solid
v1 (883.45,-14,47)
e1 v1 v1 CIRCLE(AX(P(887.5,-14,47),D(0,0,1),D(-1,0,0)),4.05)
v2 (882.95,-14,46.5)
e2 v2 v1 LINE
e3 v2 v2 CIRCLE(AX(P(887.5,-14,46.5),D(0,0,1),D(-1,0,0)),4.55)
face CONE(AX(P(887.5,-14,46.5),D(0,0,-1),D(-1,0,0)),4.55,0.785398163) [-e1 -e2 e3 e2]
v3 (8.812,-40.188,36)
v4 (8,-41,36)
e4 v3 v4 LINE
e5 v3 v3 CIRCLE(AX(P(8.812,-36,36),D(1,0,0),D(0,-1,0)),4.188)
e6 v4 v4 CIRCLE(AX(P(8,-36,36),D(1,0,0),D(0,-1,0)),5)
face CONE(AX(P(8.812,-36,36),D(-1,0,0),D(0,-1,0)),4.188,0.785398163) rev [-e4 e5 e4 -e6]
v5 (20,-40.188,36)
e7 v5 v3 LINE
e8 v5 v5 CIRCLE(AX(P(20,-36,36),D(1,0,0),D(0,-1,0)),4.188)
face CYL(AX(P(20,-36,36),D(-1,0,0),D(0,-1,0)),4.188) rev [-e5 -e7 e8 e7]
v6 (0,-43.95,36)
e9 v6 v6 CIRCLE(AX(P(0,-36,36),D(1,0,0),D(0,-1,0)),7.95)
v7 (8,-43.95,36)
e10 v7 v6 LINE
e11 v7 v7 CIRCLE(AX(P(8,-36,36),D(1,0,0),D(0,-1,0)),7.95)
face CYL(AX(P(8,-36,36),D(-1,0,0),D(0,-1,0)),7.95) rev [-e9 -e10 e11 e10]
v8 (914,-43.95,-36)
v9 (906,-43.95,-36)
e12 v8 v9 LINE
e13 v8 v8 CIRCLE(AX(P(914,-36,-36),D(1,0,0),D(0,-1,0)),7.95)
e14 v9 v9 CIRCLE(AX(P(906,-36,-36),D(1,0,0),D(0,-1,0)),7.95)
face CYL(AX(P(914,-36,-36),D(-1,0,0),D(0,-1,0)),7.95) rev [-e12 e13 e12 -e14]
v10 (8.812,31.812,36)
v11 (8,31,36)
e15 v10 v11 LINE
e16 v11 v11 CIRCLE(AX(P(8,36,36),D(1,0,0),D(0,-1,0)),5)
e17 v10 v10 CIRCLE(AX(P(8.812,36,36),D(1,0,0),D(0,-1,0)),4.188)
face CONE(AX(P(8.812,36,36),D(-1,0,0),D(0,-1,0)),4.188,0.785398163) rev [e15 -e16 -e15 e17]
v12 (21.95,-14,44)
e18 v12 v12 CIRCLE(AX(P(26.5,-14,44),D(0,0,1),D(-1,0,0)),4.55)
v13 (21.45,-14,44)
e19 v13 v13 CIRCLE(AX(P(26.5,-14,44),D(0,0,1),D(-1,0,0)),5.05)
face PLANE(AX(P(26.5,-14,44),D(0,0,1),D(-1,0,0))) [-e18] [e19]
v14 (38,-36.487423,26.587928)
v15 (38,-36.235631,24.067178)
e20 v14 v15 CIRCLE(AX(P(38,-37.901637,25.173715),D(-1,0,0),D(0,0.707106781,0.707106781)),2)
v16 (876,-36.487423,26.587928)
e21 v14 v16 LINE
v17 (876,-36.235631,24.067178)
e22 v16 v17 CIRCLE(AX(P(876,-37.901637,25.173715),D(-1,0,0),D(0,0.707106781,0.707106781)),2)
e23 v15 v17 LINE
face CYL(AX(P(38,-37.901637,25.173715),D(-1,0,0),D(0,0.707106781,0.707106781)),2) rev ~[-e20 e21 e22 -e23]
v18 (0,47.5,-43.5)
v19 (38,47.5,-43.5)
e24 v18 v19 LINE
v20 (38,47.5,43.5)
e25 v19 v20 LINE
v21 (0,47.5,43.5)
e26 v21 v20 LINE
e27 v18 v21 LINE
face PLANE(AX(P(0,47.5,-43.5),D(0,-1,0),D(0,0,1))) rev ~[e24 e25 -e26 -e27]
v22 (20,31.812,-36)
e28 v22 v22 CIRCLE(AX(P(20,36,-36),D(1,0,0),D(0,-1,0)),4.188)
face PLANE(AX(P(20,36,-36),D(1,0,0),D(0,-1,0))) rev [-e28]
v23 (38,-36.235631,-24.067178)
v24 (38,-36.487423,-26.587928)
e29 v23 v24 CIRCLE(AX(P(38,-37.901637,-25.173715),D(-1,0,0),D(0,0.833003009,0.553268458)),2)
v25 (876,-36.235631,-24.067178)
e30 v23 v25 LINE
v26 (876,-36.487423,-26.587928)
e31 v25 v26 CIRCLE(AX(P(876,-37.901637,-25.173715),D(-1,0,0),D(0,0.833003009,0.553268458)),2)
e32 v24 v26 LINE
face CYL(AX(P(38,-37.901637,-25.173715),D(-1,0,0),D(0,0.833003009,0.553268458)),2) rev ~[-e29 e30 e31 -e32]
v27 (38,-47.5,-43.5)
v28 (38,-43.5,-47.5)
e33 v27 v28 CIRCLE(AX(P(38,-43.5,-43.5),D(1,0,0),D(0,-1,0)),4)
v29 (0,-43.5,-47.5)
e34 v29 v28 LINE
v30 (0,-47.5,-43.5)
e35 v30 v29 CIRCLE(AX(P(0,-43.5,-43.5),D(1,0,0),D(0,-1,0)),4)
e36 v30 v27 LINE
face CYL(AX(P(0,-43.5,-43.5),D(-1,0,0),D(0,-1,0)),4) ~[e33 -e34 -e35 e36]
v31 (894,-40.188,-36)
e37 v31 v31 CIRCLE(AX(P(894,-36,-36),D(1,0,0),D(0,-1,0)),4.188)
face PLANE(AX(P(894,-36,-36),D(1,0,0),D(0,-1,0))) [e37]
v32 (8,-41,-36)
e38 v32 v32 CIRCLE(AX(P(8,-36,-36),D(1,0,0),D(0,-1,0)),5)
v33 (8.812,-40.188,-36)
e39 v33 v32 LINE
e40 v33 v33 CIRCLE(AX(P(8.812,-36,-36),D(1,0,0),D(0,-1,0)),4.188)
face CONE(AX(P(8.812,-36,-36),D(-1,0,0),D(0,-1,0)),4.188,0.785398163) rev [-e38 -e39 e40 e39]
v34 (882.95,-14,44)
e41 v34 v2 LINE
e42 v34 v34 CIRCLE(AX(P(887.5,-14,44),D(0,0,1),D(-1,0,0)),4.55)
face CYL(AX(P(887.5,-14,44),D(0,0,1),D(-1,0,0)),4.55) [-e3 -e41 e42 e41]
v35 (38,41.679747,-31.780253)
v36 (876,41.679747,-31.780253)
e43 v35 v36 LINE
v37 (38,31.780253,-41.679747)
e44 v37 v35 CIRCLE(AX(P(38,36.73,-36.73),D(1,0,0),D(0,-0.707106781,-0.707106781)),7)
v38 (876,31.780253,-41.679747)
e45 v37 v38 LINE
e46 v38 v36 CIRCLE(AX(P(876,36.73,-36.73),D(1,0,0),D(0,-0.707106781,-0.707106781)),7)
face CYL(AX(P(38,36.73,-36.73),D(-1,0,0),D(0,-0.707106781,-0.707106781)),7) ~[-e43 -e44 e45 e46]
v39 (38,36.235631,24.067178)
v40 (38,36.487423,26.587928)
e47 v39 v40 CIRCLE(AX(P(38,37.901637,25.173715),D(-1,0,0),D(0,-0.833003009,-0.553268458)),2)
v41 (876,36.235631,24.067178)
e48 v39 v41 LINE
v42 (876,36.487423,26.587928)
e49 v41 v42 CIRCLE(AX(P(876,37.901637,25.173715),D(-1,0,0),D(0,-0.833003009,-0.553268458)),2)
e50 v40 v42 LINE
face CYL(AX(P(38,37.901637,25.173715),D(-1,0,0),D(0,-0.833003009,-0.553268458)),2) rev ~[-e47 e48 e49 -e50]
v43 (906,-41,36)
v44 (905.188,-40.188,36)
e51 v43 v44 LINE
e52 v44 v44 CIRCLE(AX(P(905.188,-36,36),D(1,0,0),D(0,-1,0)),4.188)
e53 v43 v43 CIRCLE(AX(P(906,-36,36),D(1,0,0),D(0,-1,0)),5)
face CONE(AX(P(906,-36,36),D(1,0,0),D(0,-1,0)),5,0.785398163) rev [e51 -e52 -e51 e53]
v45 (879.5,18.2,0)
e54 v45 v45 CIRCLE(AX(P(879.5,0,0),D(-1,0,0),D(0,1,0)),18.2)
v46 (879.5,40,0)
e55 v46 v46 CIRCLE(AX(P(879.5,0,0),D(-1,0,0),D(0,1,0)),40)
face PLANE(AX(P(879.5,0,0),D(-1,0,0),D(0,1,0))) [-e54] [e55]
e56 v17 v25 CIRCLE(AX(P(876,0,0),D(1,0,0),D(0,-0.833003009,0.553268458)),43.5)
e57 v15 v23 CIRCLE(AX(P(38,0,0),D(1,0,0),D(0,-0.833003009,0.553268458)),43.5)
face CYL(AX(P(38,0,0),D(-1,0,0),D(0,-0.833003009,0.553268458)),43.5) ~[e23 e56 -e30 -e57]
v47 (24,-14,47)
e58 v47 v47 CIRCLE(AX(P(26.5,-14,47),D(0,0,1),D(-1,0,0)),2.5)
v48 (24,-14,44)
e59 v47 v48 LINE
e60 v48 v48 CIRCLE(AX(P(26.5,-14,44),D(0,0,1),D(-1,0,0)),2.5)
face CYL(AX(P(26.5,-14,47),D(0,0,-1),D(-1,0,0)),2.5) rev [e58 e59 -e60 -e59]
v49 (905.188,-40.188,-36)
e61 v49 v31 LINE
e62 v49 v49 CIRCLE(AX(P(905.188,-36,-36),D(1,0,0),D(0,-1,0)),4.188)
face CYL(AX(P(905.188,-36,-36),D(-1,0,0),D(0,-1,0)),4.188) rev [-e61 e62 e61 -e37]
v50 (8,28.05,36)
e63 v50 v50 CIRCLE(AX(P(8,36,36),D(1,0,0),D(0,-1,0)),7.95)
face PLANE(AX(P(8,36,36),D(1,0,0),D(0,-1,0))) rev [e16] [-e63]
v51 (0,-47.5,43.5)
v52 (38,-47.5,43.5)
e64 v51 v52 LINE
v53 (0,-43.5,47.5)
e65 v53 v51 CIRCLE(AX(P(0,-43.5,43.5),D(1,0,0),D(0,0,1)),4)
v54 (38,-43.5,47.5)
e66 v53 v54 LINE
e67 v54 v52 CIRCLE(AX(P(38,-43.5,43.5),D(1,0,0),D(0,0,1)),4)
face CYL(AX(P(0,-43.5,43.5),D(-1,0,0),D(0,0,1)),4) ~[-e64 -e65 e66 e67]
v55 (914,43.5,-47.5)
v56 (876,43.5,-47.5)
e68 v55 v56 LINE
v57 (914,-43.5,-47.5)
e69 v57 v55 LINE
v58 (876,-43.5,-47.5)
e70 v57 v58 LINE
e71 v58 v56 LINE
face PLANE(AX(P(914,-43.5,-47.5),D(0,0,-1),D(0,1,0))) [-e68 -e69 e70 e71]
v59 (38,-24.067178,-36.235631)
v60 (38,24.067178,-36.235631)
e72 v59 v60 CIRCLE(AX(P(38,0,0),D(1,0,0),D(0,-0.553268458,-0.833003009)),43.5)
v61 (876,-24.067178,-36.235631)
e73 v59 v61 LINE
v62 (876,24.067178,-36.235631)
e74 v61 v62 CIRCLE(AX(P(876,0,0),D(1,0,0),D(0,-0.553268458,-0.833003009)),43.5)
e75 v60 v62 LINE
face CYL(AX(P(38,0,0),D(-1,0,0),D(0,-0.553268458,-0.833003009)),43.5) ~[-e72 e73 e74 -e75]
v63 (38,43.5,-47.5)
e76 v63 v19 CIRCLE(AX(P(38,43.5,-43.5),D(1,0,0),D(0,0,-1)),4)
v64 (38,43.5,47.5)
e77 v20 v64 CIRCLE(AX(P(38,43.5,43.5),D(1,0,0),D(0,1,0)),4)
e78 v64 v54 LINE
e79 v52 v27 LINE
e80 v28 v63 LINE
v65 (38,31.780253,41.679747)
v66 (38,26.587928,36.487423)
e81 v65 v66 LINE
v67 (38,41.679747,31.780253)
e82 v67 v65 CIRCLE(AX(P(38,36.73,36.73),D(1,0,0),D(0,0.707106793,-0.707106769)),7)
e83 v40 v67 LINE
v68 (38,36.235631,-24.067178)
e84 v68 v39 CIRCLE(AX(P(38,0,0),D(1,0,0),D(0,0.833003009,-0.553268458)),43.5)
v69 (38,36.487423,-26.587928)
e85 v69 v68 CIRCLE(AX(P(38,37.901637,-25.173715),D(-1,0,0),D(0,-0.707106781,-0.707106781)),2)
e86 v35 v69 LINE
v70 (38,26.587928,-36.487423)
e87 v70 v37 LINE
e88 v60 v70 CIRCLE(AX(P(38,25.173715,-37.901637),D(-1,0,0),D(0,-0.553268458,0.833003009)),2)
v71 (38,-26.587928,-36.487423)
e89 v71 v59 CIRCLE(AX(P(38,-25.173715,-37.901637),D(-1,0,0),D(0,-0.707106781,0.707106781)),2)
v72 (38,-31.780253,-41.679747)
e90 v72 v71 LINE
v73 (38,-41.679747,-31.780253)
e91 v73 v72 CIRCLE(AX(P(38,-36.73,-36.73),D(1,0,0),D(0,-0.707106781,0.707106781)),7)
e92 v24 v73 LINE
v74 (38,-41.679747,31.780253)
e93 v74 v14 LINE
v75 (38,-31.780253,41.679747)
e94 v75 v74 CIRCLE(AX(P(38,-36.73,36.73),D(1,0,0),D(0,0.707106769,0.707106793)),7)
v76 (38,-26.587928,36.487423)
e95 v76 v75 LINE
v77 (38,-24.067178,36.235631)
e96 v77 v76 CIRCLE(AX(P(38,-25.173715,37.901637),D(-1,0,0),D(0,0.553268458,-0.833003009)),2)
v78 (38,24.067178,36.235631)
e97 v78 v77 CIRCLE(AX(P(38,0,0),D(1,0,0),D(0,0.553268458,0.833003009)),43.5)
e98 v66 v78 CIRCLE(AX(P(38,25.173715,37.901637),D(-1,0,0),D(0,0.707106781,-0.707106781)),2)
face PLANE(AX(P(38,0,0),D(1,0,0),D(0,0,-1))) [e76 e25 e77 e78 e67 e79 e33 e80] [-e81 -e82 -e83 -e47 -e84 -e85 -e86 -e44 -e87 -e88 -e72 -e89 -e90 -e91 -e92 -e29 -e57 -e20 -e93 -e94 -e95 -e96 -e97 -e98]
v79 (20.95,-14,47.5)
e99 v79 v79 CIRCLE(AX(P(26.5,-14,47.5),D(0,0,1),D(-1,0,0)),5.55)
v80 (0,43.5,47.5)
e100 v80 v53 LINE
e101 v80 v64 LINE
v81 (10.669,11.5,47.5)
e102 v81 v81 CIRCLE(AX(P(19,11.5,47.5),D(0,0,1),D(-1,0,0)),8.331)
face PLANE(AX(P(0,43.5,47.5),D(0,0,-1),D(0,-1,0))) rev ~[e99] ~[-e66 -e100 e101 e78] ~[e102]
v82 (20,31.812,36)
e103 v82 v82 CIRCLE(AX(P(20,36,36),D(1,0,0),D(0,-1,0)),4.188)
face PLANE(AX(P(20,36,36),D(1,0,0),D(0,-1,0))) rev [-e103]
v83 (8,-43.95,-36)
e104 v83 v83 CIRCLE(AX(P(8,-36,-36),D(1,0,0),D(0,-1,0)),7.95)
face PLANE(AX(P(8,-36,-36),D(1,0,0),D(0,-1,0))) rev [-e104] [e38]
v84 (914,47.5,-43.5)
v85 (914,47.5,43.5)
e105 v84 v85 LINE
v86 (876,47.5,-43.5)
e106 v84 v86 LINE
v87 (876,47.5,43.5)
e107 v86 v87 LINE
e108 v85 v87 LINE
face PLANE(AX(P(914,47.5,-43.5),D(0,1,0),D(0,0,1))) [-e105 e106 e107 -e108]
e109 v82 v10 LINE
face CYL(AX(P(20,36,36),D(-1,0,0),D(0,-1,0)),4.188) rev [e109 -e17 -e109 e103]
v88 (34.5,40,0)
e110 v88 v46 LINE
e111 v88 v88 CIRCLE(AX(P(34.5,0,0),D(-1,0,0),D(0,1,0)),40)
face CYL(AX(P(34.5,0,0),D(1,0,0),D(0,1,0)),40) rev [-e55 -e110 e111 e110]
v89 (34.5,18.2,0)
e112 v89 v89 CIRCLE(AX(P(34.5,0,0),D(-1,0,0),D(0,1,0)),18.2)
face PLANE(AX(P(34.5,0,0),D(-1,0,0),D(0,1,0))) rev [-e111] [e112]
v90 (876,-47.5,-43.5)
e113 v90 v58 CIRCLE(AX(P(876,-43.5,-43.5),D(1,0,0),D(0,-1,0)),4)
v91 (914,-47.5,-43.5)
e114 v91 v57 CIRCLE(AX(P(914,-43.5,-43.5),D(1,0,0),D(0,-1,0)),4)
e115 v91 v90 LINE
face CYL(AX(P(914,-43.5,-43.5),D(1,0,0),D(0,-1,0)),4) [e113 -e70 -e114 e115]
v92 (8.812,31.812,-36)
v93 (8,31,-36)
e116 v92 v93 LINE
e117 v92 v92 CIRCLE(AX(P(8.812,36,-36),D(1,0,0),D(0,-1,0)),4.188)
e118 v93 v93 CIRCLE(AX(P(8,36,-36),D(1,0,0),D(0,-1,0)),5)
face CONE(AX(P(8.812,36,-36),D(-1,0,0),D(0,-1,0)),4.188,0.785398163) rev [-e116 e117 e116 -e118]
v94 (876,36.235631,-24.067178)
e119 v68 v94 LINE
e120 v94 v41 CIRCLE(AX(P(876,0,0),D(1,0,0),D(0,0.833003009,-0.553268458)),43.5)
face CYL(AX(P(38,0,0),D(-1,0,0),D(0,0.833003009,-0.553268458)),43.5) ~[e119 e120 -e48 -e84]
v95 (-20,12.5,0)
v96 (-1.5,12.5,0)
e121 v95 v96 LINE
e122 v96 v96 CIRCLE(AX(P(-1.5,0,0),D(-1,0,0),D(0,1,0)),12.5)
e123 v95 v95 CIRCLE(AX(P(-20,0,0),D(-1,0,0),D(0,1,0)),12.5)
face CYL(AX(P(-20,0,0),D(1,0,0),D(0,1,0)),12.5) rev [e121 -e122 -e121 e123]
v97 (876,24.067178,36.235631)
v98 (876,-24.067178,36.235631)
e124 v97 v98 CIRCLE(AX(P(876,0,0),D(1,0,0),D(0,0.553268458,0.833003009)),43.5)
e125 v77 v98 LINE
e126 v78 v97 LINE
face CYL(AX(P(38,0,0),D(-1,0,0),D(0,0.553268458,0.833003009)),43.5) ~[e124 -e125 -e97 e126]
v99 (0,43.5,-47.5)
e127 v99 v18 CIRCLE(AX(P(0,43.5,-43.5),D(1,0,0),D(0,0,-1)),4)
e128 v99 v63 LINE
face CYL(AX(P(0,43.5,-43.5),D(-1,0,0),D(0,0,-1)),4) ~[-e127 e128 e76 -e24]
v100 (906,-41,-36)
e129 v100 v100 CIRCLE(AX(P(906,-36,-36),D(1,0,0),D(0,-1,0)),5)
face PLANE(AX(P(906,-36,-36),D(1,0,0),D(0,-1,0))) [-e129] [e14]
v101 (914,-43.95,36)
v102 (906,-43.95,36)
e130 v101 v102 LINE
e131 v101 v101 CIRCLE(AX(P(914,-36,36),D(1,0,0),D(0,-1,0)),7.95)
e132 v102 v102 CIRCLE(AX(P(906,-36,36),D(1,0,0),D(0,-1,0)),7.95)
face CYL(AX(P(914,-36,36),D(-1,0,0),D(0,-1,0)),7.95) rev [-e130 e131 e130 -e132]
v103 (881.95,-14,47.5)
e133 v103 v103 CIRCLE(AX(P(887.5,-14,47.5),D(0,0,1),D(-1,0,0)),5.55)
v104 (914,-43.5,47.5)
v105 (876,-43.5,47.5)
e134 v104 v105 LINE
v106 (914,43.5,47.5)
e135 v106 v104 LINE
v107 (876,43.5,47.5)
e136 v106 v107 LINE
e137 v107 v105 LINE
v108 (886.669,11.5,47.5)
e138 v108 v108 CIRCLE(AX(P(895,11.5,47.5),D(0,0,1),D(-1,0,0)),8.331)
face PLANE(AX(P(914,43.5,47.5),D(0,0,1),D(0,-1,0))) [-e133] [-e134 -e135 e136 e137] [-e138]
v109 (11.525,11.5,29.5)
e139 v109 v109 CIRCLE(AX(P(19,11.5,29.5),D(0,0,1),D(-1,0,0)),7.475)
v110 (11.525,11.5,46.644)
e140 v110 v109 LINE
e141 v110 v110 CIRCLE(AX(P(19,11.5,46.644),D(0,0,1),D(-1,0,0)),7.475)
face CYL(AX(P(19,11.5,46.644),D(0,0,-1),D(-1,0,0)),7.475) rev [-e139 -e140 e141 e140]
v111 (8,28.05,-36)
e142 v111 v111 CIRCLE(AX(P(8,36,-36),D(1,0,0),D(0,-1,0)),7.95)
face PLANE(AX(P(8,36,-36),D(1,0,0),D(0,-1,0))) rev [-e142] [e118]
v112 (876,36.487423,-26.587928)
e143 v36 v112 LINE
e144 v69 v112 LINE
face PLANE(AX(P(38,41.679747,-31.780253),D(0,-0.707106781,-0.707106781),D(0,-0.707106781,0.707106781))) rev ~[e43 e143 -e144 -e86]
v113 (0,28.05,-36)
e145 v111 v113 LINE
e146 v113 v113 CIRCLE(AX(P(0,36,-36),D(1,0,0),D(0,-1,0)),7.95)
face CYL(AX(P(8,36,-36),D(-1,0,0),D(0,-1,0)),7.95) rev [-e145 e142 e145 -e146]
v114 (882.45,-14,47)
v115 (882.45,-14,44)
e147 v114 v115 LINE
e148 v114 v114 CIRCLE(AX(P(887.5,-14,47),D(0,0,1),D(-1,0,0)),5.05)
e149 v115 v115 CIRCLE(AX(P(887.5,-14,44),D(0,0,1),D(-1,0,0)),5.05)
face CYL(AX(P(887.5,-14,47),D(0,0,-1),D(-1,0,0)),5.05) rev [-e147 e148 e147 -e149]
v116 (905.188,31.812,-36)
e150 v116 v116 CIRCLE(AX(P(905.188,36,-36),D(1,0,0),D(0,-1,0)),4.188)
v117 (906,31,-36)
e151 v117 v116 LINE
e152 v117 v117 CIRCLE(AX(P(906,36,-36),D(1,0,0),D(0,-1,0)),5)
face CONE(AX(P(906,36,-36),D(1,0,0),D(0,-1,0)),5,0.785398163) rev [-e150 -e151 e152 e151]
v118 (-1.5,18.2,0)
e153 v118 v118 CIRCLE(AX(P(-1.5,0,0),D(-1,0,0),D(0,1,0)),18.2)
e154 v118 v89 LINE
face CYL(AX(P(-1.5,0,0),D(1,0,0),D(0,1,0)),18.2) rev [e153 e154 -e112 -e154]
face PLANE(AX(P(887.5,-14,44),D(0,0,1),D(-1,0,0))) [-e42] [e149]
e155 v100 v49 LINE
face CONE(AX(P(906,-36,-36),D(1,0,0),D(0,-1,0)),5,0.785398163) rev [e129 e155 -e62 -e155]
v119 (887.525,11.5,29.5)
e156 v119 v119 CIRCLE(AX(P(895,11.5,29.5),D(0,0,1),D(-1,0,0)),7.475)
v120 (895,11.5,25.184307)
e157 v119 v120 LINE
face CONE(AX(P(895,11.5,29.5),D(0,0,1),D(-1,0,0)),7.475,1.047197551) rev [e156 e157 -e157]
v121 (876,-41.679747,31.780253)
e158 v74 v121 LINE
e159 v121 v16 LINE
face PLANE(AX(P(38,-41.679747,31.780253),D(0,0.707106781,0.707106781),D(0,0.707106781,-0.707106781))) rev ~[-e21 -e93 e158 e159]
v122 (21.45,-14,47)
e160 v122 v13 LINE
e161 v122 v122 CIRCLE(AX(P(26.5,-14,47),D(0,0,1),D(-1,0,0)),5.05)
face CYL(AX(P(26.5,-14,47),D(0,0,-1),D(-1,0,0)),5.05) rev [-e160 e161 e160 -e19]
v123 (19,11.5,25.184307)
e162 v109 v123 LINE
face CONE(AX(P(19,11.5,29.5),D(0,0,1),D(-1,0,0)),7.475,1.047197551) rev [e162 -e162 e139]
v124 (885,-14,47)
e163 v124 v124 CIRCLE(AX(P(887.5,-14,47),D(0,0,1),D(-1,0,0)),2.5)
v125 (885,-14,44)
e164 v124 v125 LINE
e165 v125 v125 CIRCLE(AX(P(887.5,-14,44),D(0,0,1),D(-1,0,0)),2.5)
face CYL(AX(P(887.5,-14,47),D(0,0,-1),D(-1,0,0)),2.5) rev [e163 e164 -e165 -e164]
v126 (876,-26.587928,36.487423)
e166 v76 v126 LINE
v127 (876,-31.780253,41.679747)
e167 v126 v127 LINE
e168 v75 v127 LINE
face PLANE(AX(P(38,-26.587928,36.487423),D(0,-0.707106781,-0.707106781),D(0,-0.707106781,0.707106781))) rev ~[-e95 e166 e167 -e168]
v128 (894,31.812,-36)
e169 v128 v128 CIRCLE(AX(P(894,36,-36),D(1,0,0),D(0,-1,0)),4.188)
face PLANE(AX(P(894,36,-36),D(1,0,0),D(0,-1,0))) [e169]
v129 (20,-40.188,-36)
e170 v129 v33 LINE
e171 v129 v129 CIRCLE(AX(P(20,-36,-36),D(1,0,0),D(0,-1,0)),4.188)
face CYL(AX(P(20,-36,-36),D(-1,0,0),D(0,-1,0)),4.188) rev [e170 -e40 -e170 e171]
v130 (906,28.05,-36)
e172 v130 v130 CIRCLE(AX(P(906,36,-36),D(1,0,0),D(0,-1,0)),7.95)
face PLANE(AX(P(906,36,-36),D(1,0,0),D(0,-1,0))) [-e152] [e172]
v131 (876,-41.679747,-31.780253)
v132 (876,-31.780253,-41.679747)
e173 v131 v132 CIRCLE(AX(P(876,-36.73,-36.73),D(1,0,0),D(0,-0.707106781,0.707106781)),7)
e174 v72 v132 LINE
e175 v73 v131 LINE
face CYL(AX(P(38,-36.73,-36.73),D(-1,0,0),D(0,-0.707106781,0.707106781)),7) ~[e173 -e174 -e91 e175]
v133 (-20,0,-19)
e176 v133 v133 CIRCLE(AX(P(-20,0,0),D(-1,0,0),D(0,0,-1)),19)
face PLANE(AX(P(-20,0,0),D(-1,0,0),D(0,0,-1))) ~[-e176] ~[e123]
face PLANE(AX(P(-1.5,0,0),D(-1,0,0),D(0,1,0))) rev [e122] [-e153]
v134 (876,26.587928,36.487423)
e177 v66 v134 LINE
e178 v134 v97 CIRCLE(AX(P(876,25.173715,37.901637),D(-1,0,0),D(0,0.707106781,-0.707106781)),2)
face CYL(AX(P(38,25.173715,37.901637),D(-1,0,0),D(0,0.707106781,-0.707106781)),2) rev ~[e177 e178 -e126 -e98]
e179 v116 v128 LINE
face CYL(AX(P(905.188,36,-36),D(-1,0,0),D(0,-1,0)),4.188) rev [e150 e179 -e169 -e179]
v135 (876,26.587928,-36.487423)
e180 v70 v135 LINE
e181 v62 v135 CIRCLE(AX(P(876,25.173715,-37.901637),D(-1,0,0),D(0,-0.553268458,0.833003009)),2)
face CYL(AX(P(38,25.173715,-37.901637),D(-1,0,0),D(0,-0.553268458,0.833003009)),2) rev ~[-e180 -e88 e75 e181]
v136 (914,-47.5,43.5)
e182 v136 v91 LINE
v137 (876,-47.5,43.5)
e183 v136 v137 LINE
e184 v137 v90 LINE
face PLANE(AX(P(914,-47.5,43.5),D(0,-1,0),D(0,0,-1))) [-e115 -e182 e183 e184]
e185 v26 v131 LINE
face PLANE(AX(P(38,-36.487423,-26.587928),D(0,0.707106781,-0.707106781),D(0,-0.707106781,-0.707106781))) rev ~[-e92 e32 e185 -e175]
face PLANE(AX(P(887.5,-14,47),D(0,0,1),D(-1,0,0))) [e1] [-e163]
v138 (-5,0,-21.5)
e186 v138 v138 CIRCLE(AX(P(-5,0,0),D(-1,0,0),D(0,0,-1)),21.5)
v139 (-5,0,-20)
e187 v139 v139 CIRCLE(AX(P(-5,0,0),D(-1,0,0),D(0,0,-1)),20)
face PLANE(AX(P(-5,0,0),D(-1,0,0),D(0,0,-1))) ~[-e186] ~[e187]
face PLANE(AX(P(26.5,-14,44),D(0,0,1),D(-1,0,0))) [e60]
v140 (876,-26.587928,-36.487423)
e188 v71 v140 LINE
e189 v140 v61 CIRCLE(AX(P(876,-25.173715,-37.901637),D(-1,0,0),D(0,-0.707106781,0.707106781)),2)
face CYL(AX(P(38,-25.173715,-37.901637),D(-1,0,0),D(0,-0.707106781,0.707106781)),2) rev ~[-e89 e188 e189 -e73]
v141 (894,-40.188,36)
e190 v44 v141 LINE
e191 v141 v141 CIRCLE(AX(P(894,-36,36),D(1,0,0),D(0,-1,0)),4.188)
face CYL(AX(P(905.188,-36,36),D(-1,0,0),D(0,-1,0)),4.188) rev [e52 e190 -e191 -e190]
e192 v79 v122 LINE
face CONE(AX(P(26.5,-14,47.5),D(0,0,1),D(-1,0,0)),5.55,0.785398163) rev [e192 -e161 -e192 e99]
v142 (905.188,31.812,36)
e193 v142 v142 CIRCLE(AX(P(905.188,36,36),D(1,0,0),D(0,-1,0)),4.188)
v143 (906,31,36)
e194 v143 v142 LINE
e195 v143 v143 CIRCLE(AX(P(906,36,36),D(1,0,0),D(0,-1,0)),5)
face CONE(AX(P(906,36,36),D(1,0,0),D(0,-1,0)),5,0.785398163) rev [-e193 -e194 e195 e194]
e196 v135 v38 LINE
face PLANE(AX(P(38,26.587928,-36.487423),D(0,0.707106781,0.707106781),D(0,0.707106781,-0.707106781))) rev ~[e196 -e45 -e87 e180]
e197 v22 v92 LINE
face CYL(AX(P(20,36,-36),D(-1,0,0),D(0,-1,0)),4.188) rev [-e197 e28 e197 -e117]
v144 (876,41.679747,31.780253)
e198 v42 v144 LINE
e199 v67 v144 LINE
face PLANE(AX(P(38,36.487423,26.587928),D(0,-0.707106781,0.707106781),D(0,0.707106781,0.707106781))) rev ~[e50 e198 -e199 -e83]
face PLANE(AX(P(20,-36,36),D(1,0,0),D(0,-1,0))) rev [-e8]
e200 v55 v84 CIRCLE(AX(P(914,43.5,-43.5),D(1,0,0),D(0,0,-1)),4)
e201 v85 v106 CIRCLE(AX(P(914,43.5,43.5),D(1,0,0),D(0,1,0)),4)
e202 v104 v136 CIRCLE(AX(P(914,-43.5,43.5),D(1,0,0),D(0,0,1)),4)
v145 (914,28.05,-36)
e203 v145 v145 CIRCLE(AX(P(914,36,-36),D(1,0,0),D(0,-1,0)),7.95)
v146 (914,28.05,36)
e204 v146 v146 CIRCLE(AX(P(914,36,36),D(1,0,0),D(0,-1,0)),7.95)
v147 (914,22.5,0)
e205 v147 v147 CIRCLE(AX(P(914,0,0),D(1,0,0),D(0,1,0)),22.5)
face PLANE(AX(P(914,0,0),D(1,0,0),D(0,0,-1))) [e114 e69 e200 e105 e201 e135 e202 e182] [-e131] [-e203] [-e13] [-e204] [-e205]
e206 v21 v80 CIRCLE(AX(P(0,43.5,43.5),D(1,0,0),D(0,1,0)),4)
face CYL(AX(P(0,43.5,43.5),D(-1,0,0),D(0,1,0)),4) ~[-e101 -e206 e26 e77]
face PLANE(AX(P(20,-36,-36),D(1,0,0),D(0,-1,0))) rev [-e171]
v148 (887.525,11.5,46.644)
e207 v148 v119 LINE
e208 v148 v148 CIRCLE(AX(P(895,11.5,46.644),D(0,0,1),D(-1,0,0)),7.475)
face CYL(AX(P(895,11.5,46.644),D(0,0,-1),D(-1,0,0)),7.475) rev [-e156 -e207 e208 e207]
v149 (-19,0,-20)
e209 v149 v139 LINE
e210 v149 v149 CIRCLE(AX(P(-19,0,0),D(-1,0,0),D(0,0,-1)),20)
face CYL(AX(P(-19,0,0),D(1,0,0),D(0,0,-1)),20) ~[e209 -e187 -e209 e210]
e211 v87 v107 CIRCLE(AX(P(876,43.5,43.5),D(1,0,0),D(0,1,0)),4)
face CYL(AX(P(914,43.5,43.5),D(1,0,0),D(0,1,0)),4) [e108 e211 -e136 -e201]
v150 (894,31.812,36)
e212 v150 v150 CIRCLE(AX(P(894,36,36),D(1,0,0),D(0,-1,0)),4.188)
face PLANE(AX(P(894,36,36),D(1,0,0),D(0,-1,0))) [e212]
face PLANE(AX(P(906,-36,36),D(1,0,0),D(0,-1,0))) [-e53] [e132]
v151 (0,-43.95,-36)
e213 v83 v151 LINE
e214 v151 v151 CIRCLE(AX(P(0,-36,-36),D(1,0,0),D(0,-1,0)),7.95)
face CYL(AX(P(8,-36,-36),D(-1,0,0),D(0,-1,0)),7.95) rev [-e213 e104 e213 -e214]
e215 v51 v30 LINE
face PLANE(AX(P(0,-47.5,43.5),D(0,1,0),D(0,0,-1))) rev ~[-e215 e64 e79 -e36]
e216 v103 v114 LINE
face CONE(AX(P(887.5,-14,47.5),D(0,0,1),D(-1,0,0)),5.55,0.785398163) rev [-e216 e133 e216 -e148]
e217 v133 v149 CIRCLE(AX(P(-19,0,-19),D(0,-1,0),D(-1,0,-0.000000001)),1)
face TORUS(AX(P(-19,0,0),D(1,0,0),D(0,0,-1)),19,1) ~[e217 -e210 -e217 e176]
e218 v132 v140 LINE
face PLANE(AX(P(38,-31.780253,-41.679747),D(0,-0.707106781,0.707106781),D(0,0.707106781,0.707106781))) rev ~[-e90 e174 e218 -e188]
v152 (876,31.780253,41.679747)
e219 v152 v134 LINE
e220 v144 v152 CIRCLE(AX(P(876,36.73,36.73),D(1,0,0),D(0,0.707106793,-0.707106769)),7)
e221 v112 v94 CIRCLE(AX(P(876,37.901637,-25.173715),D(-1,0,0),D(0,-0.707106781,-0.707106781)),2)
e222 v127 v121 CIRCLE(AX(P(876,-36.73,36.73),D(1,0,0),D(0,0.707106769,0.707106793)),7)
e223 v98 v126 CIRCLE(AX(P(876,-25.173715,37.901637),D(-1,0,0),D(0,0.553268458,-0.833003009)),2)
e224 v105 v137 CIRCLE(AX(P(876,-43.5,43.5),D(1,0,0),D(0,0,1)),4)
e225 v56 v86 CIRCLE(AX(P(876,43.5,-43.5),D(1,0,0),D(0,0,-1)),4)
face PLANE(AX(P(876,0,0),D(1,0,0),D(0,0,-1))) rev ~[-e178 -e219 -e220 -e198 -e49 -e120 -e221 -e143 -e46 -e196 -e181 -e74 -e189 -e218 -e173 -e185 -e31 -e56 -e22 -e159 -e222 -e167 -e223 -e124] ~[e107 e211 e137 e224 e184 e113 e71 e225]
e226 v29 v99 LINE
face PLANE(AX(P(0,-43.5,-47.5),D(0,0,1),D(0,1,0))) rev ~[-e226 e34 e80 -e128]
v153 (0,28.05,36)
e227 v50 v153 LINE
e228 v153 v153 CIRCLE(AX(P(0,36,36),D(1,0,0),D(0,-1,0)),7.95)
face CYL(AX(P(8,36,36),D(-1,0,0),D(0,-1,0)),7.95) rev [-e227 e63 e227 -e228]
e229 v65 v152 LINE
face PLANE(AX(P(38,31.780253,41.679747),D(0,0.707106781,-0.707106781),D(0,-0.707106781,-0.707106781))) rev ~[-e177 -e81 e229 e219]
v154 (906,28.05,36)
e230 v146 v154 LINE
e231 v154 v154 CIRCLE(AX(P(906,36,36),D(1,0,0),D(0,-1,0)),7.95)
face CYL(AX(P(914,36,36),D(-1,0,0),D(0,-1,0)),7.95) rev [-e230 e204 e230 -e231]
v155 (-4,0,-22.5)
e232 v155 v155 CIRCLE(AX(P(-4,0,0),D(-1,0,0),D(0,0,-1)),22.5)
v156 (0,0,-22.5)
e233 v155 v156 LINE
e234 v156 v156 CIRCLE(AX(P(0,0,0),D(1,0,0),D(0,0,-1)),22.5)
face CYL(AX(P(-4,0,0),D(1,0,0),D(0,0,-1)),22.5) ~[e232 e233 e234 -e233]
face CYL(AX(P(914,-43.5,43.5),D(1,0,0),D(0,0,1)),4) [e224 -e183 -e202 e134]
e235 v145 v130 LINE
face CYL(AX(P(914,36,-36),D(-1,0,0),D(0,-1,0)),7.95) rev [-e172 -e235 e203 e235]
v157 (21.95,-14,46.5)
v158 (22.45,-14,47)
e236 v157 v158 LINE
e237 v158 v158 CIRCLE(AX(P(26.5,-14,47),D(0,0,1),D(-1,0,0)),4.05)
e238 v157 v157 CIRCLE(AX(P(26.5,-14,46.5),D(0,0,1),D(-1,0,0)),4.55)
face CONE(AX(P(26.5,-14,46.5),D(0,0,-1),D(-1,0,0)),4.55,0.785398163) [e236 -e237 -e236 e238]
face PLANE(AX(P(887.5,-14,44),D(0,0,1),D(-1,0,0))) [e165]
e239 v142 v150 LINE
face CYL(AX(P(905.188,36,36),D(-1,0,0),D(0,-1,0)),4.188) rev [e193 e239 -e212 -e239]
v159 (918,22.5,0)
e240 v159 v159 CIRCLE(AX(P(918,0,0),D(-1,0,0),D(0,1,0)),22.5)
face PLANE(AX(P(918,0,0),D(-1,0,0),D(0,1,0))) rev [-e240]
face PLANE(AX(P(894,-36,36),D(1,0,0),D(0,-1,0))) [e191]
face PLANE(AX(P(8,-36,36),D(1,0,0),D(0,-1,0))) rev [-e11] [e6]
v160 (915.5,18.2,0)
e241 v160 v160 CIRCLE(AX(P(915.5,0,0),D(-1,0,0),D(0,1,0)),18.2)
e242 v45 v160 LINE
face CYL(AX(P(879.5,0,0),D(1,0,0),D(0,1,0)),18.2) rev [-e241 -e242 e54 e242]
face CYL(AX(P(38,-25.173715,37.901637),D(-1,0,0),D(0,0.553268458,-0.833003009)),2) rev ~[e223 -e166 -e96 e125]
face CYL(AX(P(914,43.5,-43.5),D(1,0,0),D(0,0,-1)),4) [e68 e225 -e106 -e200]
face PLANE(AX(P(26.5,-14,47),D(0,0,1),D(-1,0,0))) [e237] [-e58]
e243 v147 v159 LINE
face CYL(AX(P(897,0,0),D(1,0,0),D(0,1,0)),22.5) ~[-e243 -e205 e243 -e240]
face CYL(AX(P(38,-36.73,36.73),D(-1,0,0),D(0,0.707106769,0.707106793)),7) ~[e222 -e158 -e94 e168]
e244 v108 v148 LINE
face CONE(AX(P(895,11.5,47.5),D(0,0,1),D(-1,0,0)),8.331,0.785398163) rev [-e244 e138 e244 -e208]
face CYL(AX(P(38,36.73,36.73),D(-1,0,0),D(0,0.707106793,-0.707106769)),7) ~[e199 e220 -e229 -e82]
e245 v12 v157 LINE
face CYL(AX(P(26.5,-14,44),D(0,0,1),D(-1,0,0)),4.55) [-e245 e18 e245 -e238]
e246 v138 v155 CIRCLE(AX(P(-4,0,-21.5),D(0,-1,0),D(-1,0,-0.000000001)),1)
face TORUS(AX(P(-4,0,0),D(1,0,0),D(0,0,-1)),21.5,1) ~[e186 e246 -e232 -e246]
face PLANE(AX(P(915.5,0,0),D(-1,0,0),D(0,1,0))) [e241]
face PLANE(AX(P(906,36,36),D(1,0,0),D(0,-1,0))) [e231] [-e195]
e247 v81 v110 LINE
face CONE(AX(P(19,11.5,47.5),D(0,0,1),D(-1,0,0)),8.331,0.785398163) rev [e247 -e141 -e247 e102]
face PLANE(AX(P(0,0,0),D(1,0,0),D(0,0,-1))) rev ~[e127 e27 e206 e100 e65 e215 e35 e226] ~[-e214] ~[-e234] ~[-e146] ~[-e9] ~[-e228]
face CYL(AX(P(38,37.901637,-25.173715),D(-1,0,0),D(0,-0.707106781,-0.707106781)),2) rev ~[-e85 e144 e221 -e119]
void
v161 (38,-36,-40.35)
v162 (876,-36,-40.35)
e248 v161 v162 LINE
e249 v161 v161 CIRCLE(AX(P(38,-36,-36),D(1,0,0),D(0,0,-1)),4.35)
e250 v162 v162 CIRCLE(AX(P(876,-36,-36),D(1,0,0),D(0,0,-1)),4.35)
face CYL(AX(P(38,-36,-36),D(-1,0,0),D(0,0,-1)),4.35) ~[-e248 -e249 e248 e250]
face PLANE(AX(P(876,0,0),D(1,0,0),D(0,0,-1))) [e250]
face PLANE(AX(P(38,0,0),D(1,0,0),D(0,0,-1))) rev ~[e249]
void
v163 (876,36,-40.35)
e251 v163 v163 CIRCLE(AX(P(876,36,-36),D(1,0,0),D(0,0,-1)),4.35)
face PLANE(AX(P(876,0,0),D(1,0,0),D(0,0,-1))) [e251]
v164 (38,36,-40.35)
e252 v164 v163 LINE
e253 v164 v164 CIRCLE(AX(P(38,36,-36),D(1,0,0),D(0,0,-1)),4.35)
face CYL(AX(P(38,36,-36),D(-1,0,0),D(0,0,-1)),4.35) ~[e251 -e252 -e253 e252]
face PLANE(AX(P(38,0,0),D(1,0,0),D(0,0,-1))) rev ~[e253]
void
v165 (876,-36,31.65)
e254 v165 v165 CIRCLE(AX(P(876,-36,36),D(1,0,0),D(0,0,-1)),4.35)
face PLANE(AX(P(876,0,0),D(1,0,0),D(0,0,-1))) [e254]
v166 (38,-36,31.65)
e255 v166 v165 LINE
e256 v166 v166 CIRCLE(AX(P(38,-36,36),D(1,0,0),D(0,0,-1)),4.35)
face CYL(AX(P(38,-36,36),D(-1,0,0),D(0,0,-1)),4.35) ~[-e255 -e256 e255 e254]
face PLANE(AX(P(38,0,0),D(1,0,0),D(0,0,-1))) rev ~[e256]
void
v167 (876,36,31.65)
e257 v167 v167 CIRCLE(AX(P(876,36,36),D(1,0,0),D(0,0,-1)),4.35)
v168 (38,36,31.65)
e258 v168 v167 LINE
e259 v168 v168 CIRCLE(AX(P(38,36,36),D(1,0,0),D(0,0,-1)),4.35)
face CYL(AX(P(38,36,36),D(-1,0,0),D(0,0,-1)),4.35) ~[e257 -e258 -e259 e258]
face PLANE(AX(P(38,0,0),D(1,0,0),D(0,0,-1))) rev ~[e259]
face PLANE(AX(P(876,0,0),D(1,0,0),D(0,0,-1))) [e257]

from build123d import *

# Parameters (mm, degrees)
EXTRUDE_1_DEPTH             = 38
SKETCH_3_R                  = 4.35
EXTRUDE_2_DEPTH             = 838
EXTRUDE_START               = -38
EXTRUDE_3_DEPTH             = 38
SKETCH_5_W                  = 42
SKETCH_5_H                  = 22.5
PATTERN_LINEAR_1_COUNT      = 2
PATTERN_LINEAR_1_PITCH      = 72
PATTERN_LINEAR_1_COUNT_DIR2 = 2
PATTERN_LINEAR_1_PITCH_DIR2 = 72
PATTERN_LINEAR_2_COUNT      = 2
PATTERN_LINEAR_2_PITCH      = 72
PATTERN_LINEAR_2_COUNT_DIR2 = 2
PATTERN_LINEAR_2_PITCH_DIR2 = 72


with BuildPart() as part:
    # 草图1 → 凸台-拉伸1 (new body)
    with BuildSketch(Plane(origin=(0, 0, 0), x_dir=(0, 0, -1), z_dir=(1, 0, 0))):
        with BuildLine():
            Line((-43.5, -47.5), (43.5, -47.5))
            ThreePointArc((43.5, -47.5), (46.328427125, -46.328427125), (47.5, -43.5))
            Line((47.5, -43.5), (47.5, 43.5))
            ThreePointArc((47.5, 43.5), (46.328427125, 46.328427125), (43.5, 47.5))
            Line((43.5, 47.5), (-43.5, 47.5))
            ThreePointArc((-43.5, 47.5), (-46.328427125, 46.328427125), (-47.5, 43.5))
            Line((-47.5, 43.5), (-47.5, -43.5))
            ThreePointArc((-47.5, -43.5), (-46.328427125, -46.328427125), (-43.5, -47.5))
        make_face()
    extrude(amount=EXTRUDE_1_DEPTH)

    # 草图2 → 旋转1 (revolve)
    with BuildSketch(Plane(origin=(0, 0, 0), x_dir=(1, 0, 0), z_dir=(0, 1, 0))):
        with BuildLine():
            Line((-20, 0), (-20, 19))
            ThreePointArc((-20, 19), (-19.707106781, 19.707106781), (-19, 20))
            Line((-19, 20), (-5, 20))
            Line((-5, 20), (-5, 21.5))
            ThreePointArc((-5, 21.5), (-4.707106781, 22.207106781), (-4, 22.5))
            Line((-4, 22.5), (38, 22.5))
            Line((38, 22.5), (38, 0))
            Line((38, 0), (-20, 0))
        make_face()
    revolve(axis=Axis((38, 0, 0), (-1, 0, 0)))

    # 草图3 → 凸台-拉伸2 (add)
    with BuildSketch(Plane(origin=(38, 0, 0), x_dir=(0, 0, -1), z_dir=(1, 0, 0))):
        with BuildLine():
            Line((-31.780252532, -41.679747468), (-26.587928413, -36.48742335))
            ThreePointArc((-26.587928413, -36.48742335), (-25.372501394, -35.911540455), (-24.067177934, -36.235630894))
            ThreePointArc((-24.067177934, -36.235630894), (0, -43.5), (24.067177934, -36.235630894))
            ThreePointArc((24.067177934, -36.235630894), (25.372501394, -35.911540455), (26.587928413, -36.48742335))
            Line((26.587928413, -36.48742335), (31.780252532, -41.679747468))
            ThreePointArc((31.780252532, -41.679747468), (41.679747468, -41.679747468), (41.679747468, -31.780252532))
            Line((41.679747468, -31.780252532), (36.48742335, -26.587928413))
            ThreePointArc((36.48742335, -26.587928413), (35.911540455, -25.372501394), (36.235630894, -24.067177934))
            ThreePointArc((36.235630894, -24.067177934), (43.5, 0), (36.235630894, 24.067177934))
            ThreePointArc((36.235630894, 24.067177934), (35.911540455, 25.372501394), (36.48742335, 26.587928413))
            Line((36.48742335, 26.587928413), (41.679747468, 31.780252532))
            ThreePointArc((41.679747468, 31.780252532), (41.679747468, 41.679747468), (31.780252532, 41.679747468))
            Line((31.780252532, 41.679747468), (26.587928413, 36.48742335))
            ThreePointArc((26.587928413, 36.48742335), (25.372501394, 35.911540455), (24.067177934, 36.235630894))
            ThreePointArc((24.067177934, 36.235630894), (0, 43.5), (-24.067177934, 36.235630894))
            ThreePointArc((-24.067177934, 36.235630894), (-25.372501394, 35.911540455), (-26.587928413, 36.48742335))
            Line((-26.587928413, 36.48742335), (-31.780252532, 41.679747468))
            ThreePointArc((-31.780252532, 41.679747468), (-41.679747384, 41.679747384), (-41.679747468, 31.780252532))
            Line((-41.679747468, 31.780252532), (-36.48742335, 26.587928413))
            ThreePointArc((-36.48742335, 26.587928413), (-35.911540455, 25.372501394), (-36.235630894, 24.067177934))
            ThreePointArc((-36.235630894, 24.067177934), (-43.5, 0), (-36.235630894, -24.067177934))
            ThreePointArc((-36.235630894, -24.067177934), (-35.911540455, -25.372501394), (-36.48742335, -26.587928413))
            Line((-36.48742335, -26.587928413), (-41.679747468, -31.780252532))
            ThreePointArc((-41.679747468, -31.780252532), (-41.679747384, -41.679747384), (-31.780252532, -41.679747468))
        make_face()
        with Locations((36, 36)):
            Circle(SKETCH_3_R, mode=Mode.SUBTRACT)
        with Locations((36, -36)):
            Circle(SKETCH_3_R, mode=Mode.SUBTRACT)
        with Locations((-36, 36)):
            Circle(SKETCH_3_R, mode=Mode.SUBTRACT)
        with Locations((-36, -36)):
            Circle(SKETCH_3_R, mode=Mode.SUBTRACT)
    extrude(amount=EXTRUDE_2_DEPTH)

    # 草图4 → 凸台-拉伸3 (add)
    with BuildSketch(Plane(origin=(914, 0, 0), x_dir=(0, 0, -1), z_dir=(1, 0, 0)).offset(EXTRUDE_START)):
        with BuildLine():
            Line((-43.5, -47.5), (43.5, -47.5))
            ThreePointArc((43.5, -47.5), (46.328427125, -46.328427125), (47.5, -43.5))
            Line((47.5, -43.5), (47.5, 43.5))
            ThreePointArc((47.5, 43.5), (46.328427125, 46.328427125), (43.5, 47.5))
            Line((43.5, 47.5), (-43.5, 47.5))
            ThreePointArc((-43.5, 47.5), (-46.328427125, 46.328427125), (-47.5, 43.5))
            Line((-47.5, 43.5), (-47.5, -43.5))
            ThreePointArc((-47.5, -43.5), (-46.328427125, -46.328427125), (-43.5, -47.5))
        make_face()
    extrude(amount=EXTRUDE_3_DEPTH)

    # 草图5 → 旋转2 (revolve)
    with BuildSketch(Plane.XY):
        with Locations((897, 11.25)):
            Rectangle(SKETCH_5_W, SKETCH_5_H)
    revolve(axis=Axis((918, 0, 0), (-1, 0, 0)))

    # 草图6 → 切除-旋转1 (revolve, cut)
    with BuildSketch(Plane(origin=(0, 11.5, 0), x_dir=(1, 0, 0), z_dir=(0, 1, 0))):
        Polygon((19, -47.5), (10.669, -47.5), (11.525, -46.644), (11.525, -29.5), (19, -25.184306738), align=None)
    revolve(axis=Axis((19, 11.5, 25.184306738), (0, 0, 1)), mode=Mode.SUBTRACT)

    # 草图7 → 切除-旋转2 (revolve, cut)
    with BuildSketch(Plane(origin=(0, 11.5, 0), x_dir=(1, 0, 0), z_dir=(0, 1, 0))):
        Polygon((895, -47.5), (886.669, -47.5), (887.525, -46.644), (887.525, -29.5), (895, -25.184306738), align=None)
    revolve(axis=Axis((895, 11.5, 25.184306738), (0, 0, 1)), mode=Mode.SUBTRACT)

    # 草图8 → 切除-旋转3 (revolve, cut)
    with BuildSketch(Plane(origin=(0, -14, 0), x_dir=(1, 0, 0), z_dir=(0, 1, 0))):
        Polygon((26.5, -47.5), (20.95, -47.5), (21.45, -47), (21.45, -44), (21.95, -44), (21.95, -46.5), (22.45, -47), (24, -47), (24, -44), (26.5, -44), align=None)
    revolve(axis=Axis((26.5, -14, 44), (0, 0, 1)), mode=Mode.SUBTRACT)

    # 草图9 → 切除-旋转4 (revolve, cut)
    with BuildSketch(Plane(origin=(0, -14, 0), x_dir=(1, 0, 0), z_dir=(0, 1, 0))):
        Polygon((887.5, -47.5), (881.95, -47.5), (882.45, -47), (882.45, -44), (882.95, -44), (882.95, -46.5), (883.45, -47), (885, -47), (885, -44), (887.5, -44), align=None)
    revolve(axis=Axis((887.5, -14, 44), (0, 0, 1)), mode=Mode.SUBTRACT)

    # 草图10 → 切除-旋转5 (revolve, cut)
    with BuildSketch(Plane.XY.offset(-36)):
        Polygon((20, -36), (20, -40.188), (8.812, -40.188), (8, -41), (8, -43.95), (0, -43.95), (0, -36), align=None)
    cut_revolve_5 = revolve(axis=Axis((0, -36, -36), (1, 0, 0)), mode=Mode.SUBTRACT)

    # 阵列(线性)1: Cut-Revolve 5 2 × 2
    with Locations(*[(0, i * PATTERN_LINEAR_1_PITCH, j * PATTERN_LINEAR_1_PITCH_DIR2) for i in range(PATTERN_LINEAR_1_COUNT) for j in range(PATTERN_LINEAR_1_COUNT_DIR2) if (i, j) != (0, 0)]):
        add(cut_revolve_5, mode=Mode.SUBTRACT)

    # 草图12 → 切除-旋转6 (revolve, cut)
    with BuildSketch(Plane.XY.offset(-36)):
        Polygon((914, -36), (914, -43.95), (906, -43.95), (906, -41), (905.188, -40.188), (894, -40.188), (894, -36), align=None)
    cut_revolve_6 = revolve(axis=Axis((894, -36, -36), (1, 0, 0)), mode=Mode.SUBTRACT)

    # 阵列(线性)2: Cut-Revolve 6 2 × 2
    with Locations(*[(0, i * PATTERN_LINEAR_2_PITCH, j * PATTERN_LINEAR_2_PITCH_DIR2) for i in range(PATTERN_LINEAR_2_COUNT) for j in range(PATTERN_LINEAR_2_COUNT_DIR2) if (i, j) != (0, 0)]):
        add(cut_revolve_6, mode=Mode.SUBTRACT)

    # 草图14 → 切除-旋转7 (revolve, cut)
    with BuildSketch(Plane.XY):
        Polygon((-20, 0), (-20, 12.5), (-1.5, 12.5), (-1.5, 18.2), (34.5, 18.2), (34.5, 40), (879.5, 40), (879.5, 18.2), (915.5, 18.2), (915.5, 0), align=None)
    revolve(axis=Axis((915.5, 0, 0), (-1, 0, 0)), mode=Mode.SUBTRACT)


solid = part.part
